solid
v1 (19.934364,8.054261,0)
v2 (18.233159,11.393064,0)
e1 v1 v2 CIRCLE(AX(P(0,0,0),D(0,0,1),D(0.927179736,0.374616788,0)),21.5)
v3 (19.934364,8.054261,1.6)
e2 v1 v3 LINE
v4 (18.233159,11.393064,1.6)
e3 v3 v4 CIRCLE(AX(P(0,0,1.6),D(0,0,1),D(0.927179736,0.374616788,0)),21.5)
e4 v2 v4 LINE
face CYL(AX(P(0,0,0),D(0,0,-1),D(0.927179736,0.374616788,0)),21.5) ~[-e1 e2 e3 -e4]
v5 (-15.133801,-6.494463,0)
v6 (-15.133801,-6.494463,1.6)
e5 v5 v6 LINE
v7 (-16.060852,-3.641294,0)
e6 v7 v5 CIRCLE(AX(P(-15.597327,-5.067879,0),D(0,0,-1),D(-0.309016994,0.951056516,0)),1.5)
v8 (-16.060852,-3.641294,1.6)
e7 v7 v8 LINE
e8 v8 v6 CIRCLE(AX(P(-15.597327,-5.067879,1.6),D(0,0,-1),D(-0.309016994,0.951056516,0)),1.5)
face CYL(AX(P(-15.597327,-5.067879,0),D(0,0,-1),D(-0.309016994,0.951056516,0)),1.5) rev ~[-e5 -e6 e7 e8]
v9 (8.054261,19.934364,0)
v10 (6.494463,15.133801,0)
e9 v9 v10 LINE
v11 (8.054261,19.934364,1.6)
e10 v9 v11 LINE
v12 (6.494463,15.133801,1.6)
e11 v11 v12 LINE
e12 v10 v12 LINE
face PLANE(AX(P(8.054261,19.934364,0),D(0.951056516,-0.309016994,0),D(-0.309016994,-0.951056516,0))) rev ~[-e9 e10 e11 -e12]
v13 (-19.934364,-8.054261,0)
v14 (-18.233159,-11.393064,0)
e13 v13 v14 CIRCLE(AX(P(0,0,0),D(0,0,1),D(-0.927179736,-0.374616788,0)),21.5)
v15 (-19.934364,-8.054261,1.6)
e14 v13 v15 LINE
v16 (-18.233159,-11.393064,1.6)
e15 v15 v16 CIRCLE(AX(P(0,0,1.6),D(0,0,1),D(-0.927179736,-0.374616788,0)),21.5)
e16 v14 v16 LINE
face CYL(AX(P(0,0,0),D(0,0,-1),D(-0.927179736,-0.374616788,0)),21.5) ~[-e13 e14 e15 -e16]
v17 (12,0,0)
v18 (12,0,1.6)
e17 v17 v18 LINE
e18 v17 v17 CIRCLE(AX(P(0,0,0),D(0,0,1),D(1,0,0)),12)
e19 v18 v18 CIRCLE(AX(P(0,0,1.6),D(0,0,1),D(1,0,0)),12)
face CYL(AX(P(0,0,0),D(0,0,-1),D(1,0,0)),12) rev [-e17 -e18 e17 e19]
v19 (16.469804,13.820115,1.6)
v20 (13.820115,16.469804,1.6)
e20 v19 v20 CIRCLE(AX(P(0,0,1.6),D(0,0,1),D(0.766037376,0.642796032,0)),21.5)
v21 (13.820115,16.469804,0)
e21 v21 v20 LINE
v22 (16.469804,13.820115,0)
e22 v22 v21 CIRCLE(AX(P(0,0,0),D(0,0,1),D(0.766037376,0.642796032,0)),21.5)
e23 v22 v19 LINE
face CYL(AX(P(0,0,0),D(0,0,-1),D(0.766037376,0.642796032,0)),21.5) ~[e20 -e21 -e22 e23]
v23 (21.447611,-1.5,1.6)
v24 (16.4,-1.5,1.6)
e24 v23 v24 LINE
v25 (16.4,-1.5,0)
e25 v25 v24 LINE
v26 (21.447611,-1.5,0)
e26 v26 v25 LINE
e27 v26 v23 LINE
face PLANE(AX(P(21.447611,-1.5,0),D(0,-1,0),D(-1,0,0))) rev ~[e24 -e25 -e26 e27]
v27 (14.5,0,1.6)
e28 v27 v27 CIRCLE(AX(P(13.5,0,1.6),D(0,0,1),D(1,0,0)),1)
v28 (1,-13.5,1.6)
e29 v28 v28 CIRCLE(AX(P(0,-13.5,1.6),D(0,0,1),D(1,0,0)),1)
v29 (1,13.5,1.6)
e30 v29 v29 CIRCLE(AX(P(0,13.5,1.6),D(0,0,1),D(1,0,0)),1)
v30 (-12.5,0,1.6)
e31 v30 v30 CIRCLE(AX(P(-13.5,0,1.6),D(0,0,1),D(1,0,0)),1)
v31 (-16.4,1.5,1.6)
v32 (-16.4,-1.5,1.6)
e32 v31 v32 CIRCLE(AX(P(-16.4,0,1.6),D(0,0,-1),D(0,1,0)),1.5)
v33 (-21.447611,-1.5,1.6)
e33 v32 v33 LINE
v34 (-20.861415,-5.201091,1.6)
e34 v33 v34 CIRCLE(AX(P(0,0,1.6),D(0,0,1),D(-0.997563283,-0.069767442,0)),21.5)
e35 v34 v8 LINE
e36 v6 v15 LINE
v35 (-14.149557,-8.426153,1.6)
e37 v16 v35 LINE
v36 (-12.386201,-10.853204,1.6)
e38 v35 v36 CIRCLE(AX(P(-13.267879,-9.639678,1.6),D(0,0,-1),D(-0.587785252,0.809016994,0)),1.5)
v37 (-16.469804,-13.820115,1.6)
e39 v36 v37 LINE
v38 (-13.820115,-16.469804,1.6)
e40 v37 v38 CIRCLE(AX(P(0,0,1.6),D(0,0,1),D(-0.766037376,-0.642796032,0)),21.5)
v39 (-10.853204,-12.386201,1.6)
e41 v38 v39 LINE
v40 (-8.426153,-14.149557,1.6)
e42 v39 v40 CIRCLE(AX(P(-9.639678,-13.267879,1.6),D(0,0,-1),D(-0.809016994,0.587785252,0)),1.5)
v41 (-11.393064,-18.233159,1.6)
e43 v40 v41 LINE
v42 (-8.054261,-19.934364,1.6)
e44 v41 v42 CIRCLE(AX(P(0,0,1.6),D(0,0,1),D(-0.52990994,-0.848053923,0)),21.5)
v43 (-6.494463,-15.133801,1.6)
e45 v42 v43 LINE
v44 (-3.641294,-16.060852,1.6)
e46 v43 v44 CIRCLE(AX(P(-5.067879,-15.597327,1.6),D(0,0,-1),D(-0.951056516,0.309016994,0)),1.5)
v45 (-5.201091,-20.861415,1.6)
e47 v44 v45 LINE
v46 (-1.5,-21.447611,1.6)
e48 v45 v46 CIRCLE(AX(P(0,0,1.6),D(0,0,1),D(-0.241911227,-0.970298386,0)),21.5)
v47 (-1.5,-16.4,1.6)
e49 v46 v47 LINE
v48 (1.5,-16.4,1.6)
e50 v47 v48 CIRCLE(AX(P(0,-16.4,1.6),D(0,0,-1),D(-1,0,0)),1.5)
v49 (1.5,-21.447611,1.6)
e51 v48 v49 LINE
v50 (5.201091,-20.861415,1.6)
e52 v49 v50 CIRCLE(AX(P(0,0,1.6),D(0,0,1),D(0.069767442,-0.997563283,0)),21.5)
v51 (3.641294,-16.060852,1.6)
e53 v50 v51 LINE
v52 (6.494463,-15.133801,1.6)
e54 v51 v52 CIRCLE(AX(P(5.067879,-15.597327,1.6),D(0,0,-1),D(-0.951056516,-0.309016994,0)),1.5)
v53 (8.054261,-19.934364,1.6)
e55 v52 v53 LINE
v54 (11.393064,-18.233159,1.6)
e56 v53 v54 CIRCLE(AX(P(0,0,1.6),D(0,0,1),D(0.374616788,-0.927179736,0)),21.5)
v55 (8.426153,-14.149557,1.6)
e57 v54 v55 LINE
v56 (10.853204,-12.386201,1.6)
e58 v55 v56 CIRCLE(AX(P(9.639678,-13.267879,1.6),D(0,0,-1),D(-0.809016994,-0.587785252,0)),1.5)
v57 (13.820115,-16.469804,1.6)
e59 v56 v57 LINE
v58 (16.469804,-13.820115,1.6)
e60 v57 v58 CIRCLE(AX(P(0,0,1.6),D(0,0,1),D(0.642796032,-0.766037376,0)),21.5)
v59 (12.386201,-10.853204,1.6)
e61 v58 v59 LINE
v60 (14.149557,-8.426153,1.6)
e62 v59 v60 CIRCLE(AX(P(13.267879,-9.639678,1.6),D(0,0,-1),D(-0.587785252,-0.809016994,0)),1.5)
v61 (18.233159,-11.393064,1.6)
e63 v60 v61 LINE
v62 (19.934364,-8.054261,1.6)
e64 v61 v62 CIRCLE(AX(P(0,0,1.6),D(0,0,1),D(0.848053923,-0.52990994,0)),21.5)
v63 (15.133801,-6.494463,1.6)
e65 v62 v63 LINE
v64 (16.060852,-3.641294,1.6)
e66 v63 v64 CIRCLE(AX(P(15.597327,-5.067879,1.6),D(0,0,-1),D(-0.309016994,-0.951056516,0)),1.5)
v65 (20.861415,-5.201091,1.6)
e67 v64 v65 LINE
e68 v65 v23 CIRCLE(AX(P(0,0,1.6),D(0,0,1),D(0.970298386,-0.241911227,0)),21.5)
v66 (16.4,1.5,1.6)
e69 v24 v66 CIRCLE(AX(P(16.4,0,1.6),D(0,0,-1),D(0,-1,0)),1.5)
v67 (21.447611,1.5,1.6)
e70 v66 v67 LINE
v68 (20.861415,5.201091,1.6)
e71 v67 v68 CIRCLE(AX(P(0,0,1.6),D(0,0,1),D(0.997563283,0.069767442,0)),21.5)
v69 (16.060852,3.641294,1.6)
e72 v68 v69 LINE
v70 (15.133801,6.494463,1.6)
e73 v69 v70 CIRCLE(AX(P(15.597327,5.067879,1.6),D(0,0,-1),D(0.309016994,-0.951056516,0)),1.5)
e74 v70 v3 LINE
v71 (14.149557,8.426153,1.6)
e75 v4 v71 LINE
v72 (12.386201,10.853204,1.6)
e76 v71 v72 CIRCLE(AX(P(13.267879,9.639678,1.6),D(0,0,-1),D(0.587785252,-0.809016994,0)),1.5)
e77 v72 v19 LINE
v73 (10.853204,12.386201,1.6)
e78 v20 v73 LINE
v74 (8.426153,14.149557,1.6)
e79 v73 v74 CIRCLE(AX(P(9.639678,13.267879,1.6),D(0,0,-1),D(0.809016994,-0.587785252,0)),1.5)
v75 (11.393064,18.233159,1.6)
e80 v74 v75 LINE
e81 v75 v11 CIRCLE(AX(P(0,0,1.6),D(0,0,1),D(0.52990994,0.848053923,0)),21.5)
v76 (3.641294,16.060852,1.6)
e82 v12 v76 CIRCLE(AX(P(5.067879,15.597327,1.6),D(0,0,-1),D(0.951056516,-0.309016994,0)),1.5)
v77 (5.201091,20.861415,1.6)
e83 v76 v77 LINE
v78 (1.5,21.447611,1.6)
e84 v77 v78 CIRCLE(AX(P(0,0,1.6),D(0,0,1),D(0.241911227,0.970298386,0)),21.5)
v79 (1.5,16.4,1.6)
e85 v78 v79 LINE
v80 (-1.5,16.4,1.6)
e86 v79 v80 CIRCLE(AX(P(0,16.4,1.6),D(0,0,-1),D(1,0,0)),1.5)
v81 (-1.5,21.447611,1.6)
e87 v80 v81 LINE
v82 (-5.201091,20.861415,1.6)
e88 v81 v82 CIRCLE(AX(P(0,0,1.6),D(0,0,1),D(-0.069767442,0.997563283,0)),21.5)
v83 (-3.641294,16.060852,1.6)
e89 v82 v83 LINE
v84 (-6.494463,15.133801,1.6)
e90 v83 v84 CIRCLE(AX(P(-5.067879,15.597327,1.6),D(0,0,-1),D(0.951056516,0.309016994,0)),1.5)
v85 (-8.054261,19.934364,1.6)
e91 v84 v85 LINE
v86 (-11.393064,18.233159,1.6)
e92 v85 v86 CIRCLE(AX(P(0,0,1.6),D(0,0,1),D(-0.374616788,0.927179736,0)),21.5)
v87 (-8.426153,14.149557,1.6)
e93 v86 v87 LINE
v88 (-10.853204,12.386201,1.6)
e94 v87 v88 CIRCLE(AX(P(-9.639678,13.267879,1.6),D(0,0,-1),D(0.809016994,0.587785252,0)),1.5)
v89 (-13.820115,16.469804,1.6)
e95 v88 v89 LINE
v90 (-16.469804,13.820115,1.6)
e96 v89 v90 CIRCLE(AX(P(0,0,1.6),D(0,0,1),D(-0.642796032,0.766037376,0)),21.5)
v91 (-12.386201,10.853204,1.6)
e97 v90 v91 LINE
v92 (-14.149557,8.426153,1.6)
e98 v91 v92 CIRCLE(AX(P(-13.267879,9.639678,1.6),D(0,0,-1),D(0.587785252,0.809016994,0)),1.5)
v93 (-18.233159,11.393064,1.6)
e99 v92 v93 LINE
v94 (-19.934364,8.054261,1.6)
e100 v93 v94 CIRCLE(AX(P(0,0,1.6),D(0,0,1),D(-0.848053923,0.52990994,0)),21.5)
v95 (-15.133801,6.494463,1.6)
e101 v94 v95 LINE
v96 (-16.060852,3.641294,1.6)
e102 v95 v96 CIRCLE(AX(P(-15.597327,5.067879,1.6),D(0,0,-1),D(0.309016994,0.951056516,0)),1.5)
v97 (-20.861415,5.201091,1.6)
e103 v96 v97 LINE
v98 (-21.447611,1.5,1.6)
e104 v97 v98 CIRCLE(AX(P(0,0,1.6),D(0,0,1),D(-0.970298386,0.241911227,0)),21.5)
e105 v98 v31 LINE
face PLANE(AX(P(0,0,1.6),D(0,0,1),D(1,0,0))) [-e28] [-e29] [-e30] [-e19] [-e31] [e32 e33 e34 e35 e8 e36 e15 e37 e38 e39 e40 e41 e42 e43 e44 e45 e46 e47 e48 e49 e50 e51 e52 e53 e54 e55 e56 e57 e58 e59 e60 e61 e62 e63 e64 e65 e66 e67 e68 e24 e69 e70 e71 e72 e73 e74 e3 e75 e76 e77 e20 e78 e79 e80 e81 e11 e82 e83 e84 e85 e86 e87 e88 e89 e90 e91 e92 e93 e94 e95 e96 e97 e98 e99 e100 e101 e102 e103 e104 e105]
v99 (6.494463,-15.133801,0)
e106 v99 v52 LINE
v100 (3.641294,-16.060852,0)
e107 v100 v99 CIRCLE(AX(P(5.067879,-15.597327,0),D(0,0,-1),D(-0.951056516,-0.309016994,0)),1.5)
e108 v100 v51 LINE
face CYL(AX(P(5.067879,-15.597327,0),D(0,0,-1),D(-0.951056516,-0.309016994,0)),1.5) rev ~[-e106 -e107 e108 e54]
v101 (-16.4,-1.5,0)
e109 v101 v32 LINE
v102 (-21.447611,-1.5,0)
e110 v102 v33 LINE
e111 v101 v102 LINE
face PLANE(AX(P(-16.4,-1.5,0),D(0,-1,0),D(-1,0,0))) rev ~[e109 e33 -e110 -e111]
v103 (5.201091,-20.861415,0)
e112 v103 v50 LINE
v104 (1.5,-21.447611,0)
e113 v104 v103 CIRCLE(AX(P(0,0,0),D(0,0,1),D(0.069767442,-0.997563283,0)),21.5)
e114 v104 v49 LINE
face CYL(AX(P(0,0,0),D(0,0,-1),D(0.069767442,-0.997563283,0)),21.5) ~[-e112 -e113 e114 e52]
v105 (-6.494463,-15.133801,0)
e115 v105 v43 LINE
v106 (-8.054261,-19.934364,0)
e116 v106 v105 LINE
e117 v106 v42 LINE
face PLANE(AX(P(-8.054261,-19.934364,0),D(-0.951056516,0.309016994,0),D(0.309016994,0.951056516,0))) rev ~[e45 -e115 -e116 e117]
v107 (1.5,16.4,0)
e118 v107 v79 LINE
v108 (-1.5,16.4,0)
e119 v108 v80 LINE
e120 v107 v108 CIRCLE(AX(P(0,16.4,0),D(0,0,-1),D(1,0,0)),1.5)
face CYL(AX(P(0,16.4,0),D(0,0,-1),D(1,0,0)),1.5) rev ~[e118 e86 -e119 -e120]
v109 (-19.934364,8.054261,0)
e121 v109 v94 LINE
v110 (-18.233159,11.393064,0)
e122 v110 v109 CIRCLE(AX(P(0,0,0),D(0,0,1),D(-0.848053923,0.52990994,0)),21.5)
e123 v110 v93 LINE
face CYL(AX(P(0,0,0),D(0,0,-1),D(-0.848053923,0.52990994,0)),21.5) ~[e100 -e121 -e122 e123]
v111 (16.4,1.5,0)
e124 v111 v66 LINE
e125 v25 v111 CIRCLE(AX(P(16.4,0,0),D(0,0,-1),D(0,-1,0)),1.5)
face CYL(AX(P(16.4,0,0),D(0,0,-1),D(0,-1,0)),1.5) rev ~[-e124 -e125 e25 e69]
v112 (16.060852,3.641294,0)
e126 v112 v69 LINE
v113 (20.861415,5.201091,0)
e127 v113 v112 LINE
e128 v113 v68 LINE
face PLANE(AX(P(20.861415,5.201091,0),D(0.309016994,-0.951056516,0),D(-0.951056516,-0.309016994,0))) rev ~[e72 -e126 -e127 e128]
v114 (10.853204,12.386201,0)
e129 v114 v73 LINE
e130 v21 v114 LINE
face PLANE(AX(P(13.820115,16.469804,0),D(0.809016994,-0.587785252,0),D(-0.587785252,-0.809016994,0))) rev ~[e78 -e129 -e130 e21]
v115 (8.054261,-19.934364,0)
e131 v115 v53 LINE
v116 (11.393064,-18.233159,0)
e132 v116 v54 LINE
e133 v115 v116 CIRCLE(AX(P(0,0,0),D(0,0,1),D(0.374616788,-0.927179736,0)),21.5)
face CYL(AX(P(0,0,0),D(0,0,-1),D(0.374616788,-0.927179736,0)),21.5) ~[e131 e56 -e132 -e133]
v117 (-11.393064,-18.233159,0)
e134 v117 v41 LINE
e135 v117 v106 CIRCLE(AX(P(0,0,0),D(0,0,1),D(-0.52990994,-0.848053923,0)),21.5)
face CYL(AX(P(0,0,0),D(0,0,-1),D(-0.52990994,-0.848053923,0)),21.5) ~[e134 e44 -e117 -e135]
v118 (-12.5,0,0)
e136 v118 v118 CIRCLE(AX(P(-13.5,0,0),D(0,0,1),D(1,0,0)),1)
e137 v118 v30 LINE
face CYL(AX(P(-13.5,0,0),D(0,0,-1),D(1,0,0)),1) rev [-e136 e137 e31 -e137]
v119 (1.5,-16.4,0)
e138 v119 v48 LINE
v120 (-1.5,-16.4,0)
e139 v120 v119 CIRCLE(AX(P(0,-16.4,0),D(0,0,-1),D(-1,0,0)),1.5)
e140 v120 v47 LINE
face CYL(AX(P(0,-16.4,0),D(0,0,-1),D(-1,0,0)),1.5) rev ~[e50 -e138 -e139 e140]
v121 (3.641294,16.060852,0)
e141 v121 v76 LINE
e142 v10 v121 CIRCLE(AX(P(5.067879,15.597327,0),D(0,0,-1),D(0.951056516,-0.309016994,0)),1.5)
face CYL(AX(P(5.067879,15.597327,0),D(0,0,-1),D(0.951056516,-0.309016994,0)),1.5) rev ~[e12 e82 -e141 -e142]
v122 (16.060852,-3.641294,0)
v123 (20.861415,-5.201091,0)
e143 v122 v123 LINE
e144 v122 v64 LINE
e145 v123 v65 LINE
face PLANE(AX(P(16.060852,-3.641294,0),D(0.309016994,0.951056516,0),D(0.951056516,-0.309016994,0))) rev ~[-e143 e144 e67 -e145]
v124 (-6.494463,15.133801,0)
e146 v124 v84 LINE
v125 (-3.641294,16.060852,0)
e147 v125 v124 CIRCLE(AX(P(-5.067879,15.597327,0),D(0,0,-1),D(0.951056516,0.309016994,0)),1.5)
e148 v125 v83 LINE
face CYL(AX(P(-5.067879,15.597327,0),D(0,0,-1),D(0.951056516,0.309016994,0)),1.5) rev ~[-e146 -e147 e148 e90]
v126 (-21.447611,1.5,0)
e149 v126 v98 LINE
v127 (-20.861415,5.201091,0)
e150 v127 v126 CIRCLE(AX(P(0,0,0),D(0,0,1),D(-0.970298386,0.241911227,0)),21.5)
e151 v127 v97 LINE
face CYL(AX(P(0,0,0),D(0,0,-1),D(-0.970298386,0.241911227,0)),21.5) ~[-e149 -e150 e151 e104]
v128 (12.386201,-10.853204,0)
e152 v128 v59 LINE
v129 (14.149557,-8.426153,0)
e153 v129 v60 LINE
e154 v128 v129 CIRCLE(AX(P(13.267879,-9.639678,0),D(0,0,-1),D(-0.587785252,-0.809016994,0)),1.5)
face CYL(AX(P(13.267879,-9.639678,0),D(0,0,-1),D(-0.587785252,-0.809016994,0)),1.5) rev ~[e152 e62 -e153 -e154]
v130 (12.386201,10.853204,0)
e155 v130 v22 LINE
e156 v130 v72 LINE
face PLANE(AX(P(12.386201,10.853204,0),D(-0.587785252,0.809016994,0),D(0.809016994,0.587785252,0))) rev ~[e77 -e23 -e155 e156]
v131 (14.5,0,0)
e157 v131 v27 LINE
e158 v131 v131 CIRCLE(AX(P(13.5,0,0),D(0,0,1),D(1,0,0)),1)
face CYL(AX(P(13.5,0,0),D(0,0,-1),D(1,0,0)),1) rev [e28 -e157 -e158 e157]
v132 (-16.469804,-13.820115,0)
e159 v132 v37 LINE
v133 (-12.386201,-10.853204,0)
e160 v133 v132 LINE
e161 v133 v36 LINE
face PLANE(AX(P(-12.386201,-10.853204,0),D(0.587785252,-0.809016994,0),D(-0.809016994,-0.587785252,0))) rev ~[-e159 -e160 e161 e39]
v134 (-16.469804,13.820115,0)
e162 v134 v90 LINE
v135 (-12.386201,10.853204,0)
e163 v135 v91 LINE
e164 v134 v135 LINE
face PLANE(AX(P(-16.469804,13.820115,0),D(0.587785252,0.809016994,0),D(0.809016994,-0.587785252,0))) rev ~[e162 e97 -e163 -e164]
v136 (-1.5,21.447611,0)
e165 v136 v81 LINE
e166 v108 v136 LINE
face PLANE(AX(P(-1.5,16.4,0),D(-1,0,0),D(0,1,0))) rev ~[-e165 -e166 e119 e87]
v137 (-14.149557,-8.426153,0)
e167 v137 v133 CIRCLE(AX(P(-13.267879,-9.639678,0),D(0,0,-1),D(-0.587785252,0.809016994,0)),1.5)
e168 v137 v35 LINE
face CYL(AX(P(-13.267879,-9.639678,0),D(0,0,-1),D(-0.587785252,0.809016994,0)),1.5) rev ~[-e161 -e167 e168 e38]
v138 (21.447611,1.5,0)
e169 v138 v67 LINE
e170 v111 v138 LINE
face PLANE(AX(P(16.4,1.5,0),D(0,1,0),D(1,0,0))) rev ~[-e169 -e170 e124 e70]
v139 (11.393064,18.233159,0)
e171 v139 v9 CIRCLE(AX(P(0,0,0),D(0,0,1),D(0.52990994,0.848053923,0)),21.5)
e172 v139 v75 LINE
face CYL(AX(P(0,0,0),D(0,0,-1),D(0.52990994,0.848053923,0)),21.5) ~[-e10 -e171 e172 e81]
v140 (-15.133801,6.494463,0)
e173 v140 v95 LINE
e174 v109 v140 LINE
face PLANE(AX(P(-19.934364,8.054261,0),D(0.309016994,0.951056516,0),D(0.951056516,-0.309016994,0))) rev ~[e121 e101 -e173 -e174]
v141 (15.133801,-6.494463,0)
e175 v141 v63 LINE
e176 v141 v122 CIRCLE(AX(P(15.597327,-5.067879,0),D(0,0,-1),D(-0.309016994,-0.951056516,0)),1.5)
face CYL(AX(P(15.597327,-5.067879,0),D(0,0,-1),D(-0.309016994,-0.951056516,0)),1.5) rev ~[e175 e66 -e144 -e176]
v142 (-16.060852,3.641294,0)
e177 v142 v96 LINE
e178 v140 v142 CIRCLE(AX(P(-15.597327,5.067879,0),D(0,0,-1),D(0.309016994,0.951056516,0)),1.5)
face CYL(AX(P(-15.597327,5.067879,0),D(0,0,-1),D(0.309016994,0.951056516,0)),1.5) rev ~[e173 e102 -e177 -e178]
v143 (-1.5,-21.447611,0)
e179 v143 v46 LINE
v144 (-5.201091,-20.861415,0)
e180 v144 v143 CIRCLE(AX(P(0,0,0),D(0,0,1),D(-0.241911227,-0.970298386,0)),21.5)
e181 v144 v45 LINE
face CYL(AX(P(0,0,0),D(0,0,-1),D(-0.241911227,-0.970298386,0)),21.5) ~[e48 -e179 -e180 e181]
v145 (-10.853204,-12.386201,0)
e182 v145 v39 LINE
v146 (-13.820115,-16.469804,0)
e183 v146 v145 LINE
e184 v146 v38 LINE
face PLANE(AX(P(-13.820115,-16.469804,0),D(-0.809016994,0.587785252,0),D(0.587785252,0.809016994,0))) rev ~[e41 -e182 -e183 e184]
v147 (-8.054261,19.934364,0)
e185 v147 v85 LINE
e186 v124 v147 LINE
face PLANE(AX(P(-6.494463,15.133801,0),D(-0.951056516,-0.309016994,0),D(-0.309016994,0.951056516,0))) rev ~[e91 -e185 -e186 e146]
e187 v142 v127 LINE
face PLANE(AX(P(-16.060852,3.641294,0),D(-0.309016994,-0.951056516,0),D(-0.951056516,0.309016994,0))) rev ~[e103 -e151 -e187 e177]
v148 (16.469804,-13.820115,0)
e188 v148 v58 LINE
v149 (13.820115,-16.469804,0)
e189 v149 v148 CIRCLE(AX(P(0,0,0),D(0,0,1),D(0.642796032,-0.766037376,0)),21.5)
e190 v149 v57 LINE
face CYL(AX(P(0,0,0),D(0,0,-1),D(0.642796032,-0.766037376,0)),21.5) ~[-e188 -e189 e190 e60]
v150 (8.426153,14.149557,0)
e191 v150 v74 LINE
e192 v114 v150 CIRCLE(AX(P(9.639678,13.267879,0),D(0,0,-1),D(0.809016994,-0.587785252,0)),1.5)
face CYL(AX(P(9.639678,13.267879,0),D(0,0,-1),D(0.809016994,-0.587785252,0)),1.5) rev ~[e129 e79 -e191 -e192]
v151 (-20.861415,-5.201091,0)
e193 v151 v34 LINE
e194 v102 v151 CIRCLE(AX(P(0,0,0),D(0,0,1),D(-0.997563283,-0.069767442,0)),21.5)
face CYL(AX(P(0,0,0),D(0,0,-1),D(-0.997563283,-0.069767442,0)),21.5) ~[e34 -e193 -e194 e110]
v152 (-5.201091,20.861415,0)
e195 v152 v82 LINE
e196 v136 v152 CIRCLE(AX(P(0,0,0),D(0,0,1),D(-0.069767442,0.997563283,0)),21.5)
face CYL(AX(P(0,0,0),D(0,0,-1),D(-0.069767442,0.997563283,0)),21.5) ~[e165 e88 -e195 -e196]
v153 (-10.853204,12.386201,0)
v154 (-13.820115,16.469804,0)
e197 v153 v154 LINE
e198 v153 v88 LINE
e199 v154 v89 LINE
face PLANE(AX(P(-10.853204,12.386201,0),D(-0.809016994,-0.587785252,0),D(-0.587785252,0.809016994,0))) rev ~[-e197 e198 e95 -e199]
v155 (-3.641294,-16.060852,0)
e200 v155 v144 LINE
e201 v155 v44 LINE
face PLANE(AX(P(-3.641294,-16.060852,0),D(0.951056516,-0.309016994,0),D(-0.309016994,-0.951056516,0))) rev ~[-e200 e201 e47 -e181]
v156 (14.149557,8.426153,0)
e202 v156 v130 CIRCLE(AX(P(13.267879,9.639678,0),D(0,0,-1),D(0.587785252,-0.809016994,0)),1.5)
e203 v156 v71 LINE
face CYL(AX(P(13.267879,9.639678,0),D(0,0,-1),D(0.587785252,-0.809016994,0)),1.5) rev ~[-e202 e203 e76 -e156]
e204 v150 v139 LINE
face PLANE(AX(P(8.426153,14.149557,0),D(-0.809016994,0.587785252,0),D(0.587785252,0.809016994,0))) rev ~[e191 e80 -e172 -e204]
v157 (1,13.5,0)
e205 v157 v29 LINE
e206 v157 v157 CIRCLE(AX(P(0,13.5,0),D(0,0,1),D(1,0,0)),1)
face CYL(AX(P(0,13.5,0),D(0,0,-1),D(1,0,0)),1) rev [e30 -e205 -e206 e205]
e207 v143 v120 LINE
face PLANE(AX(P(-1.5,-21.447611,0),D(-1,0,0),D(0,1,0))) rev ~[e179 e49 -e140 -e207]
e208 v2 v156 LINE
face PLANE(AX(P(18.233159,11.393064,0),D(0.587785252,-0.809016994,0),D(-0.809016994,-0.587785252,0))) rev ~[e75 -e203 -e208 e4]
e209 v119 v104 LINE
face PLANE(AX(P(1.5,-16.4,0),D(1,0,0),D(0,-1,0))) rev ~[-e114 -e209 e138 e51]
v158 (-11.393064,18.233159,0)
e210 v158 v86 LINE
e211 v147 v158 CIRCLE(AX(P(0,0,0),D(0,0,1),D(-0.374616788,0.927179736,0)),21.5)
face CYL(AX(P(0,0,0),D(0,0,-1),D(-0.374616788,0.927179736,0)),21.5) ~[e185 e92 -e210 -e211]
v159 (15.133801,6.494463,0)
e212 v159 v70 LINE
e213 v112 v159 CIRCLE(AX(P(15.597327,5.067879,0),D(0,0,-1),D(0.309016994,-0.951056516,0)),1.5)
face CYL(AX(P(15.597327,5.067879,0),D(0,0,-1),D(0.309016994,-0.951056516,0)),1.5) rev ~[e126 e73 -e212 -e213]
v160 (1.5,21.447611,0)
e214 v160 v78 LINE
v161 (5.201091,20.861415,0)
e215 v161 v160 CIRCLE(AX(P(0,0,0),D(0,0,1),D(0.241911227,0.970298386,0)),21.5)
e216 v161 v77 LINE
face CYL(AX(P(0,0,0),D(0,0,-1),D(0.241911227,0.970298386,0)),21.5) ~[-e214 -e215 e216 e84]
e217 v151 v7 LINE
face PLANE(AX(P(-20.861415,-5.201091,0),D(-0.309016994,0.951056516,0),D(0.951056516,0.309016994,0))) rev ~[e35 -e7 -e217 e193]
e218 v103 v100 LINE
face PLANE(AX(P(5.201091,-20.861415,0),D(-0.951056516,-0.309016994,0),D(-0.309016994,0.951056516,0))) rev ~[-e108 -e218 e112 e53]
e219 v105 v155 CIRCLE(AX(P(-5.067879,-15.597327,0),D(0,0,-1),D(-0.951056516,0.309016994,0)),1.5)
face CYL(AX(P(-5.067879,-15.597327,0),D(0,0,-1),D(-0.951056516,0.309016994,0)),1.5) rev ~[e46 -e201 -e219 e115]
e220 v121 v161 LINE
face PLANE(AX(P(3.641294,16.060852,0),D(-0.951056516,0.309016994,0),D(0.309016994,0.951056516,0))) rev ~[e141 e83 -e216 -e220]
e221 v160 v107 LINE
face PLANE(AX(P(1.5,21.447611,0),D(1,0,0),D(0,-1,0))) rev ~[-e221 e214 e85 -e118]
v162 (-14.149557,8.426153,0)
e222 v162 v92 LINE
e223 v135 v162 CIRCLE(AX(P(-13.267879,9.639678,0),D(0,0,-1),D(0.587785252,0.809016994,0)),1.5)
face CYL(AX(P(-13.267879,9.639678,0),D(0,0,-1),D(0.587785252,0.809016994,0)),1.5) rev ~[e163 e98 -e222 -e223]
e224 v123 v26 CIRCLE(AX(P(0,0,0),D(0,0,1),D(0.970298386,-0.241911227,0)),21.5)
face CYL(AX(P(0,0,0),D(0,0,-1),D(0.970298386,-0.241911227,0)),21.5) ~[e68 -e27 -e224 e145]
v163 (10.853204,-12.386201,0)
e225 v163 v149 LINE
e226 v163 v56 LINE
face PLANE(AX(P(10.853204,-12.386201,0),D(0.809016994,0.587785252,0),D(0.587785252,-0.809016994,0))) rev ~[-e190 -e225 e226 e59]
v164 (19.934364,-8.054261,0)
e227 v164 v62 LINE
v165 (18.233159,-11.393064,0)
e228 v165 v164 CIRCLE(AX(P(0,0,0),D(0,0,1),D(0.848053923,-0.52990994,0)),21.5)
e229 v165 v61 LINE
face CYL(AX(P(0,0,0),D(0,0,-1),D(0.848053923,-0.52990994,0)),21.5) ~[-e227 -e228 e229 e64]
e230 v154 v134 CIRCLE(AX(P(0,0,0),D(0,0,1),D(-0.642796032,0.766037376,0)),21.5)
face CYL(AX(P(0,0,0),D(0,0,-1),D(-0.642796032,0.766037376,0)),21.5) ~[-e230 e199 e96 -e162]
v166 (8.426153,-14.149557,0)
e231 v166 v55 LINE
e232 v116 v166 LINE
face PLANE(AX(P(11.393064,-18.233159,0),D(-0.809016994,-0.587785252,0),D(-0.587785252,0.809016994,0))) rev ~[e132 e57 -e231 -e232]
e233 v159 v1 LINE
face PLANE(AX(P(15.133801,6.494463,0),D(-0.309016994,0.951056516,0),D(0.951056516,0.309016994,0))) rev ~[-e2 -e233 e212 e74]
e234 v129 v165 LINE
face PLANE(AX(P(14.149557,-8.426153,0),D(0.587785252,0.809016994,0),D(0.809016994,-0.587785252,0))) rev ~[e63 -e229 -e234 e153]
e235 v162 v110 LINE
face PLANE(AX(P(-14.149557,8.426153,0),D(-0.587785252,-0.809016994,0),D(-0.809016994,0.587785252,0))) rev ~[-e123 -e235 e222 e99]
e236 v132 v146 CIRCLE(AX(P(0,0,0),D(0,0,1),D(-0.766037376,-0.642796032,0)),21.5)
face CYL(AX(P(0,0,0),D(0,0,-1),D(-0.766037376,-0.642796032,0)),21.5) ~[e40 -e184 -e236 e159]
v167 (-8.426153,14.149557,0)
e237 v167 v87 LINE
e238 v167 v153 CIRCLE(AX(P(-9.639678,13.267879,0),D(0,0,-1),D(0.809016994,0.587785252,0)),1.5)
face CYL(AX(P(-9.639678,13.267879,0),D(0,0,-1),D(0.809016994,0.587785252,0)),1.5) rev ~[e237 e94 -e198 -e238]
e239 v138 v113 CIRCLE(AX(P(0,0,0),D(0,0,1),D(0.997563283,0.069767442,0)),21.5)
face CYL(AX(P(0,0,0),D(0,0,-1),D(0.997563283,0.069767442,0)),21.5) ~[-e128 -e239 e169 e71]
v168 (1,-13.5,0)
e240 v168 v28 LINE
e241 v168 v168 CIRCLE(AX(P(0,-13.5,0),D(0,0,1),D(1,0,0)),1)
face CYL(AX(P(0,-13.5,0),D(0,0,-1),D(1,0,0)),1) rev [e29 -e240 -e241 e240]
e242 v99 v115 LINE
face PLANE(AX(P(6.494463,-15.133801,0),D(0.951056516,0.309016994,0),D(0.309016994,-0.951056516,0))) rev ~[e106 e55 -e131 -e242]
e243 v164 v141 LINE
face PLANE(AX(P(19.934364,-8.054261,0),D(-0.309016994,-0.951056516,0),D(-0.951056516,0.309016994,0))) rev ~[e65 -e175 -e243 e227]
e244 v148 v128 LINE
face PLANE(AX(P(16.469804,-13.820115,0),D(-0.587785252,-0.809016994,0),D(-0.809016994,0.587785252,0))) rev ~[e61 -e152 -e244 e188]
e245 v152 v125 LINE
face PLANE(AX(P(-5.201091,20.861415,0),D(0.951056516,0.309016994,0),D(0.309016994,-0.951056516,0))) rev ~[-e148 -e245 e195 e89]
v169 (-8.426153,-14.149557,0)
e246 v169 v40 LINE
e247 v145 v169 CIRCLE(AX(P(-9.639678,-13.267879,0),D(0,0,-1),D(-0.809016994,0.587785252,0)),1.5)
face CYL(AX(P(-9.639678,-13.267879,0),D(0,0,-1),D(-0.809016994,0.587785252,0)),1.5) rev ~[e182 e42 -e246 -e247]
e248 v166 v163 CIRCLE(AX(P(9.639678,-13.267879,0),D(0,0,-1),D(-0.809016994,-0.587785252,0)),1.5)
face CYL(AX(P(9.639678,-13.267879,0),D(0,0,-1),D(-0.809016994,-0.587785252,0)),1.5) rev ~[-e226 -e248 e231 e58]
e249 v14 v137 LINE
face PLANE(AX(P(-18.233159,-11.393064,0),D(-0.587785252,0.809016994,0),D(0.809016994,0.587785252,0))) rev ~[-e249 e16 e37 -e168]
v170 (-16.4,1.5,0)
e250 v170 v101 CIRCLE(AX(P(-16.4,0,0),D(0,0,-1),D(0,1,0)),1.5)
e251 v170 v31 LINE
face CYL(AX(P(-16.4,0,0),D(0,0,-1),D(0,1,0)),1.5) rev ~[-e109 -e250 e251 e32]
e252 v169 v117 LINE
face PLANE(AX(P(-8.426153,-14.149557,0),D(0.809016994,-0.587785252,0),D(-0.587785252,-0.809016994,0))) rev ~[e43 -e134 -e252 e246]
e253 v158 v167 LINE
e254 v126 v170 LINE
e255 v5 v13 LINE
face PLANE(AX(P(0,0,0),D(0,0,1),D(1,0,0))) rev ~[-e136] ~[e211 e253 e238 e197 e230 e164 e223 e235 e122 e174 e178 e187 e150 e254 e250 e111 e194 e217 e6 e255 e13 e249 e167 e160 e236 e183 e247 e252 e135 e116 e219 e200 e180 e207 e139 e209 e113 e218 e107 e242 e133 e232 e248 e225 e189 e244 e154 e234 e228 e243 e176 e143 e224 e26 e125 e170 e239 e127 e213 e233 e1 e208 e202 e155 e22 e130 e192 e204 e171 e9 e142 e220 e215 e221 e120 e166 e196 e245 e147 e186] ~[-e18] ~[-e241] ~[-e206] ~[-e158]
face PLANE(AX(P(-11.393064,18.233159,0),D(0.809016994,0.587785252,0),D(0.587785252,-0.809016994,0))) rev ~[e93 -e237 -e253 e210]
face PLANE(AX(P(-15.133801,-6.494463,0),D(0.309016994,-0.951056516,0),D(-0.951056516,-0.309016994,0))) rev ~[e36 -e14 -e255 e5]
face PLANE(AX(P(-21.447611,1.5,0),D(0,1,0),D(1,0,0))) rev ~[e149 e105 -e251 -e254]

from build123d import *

# Parameters (mm, degrees)
SKETCH1_R           = 12
SKETCH1_R_2         = 1
BOSS_EXTRUDE1_DEPTH = 1.6


with BuildPart() as part:
    # Sketch1 → Boss-Extrude1 (new body)
    with BuildSketch(Plane.XY):
        with BuildLine():
            Line((-1.5, 16.4), (-1.5, 21.44761059))
            ThreePointArc((-1.5, 21.44761059), (-3.363340998, 21.235299323), (-5.201091386, 20.861415302))
            Line((-5.201091386, 20.861415302), (-3.641293933, 16.060852359))
            ThreePointArc((-3.641293933, 16.060852359), (-4.604353216, 14.170742093), (-6.494463482, 15.133801376))
            Line((-6.494463482, 15.133801376), (-8.054260935, 19.934364319))
            ThreePointArc((-8.054260935, 19.934364319), (-9.760795744, 19.15664027), (-11.39306371, 18.233159334))
            Line((-11.39306371, 18.233159334), (-8.426152646, 14.149556586))
            ThreePointArc((-8.426152646, 14.149556586), (-8.758000259, 12.054353216), (-10.853203629, 12.386200829))
            Line((-10.853203629, 12.386200829), (-13.820114693, 16.469803577))
            ThreePointArc((-13.820114693, 16.469803577), (-15.202795796, 15.202795796), (-16.469803577, 13.820114693))
            Line((-16.469803577, 13.820114693), (-12.386200829, 10.853203629))
            ThreePointArc((-12.386200829, 10.853203629), (-12.054353216, 8.758000259), (-14.149556586, 8.426152646))
            Line((-14.149556586, 8.426152646), (-18.233159334, 11.39306371))
            ThreePointArc((-18.233159334, 11.39306371), (-19.15664027, 9.760795744), (-19.934364319, 8.054260935))
            Line((-19.934364319, 8.054260935), (-15.133801376, 6.494463482))
            ThreePointArc((-15.133801376, 6.494463482), (-14.170742093, 4.604353216), (-16.060852359, 3.641293933))
            Line((-16.060852359, 3.641293933), (-20.861415302, 5.201091386))
            ThreePointArc((-20.861415302, 5.201091386), (-21.235299323, 3.363340998), (-21.44761059, 1.5))
            Line((-21.44761059, 1.5), (-16.4, 1.5))
            ThreePointArc((-16.4, 1.5), (-14.9, 0), (-16.4, -1.5))
            Line((-16.4, -1.5), (-21.44761059, -1.5))
            ThreePointArc((-21.44761059, -1.5), (-21.235299323, -3.363340998), (-20.861415302, -5.201091386))
            Line((-20.861415302, -5.201091386), (-16.060852359, -3.641293933))
            ThreePointArc((-16.060852359, -3.641293933), (-14.170742093, -4.604353216), (-15.133801376, -6.494463482))
            Line((-15.133801376, -6.494463482), (-19.934364319, -8.054260935))
            ThreePointArc((-19.934364319, -8.054260935), (-19.15664027, -9.760795744), (-18.233159334, -11.39306371))
            Line((-18.233159334, -11.39306371), (-14.149556586, -8.426152646))
            ThreePointArc((-14.149556586, -8.426152646), (-12.054353216, -8.758000259), (-12.386200829, -10.853203629))
            Line((-12.386200829, -10.853203629), (-16.469803577, -13.820114693))
            ThreePointArc((-16.469803577, -13.820114693), (-15.202795796, -15.202795796), (-13.820114693, -16.469803577))
            Line((-13.820114693, -16.469803577), (-10.853203629, -12.386200829))
            ThreePointArc((-10.853203629, -12.386200829), (-8.758000259, -12.054353216), (-8.426152646, -14.149556586))
            Line((-8.426152646, -14.149556586), (-11.39306371, -18.233159334))
            ThreePointArc((-11.39306371, -18.233159334), (-9.760795744, -19.15664027), (-8.054260935, -19.934364319))
            Line((-8.054260935, -19.934364319), (-6.494463482, -15.133801376))
            ThreePointArc((-6.494463482, -15.133801376), (-4.604353216, -14.170742093), (-3.641293933, -16.060852359))
            Line((-3.641293933, -16.060852359), (-5.201091386, -20.861415302))
            ThreePointArc((-5.201091386, -20.861415302), (-3.363340998, -21.235299323), (-1.5, -21.44761059))
            Line((-1.5, -21.44761059), (-1.5, -16.4))
            ThreePointArc((-1.5, -16.4), (0, -14.9), (1.5, -16.4))
            Line((1.5, -16.4), (1.5, -21.44761059))
            ThreePointArc((1.5, -21.44761059), (3.363340998, -21.235299323), (5.201091386, -20.861415302))
            Line((5.201091386, -20.861415302), (3.641293933, -16.060852359))
            ThreePointArc((3.641293933, -16.060852359), (4.604353216, -14.170742093), (6.494463482, -15.133801376))
            Line((6.494463482, -15.133801376), (8.054260935, -19.934364319))
            ThreePointArc((8.054260935, -19.934364319), (9.760795744, -19.15664027), (11.39306371, -18.233159334))
            Line((11.39306371, -18.233159334), (8.426152646, -14.149556586))
            ThreePointArc((8.426152646, -14.149556586), (8.758000259, -12.054353216), (10.853203629, -12.386200829))
            Line((10.853203629, -12.386200829), (13.820114693, -16.469803577))
            ThreePointArc((13.820114693, -16.469803577), (15.202795796, -15.202795796), (16.469803577, -13.820114693))
            Line((16.469803577, -13.820114693), (12.386200829, -10.853203629))
            ThreePointArc((12.386200829, -10.853203629), (12.054353216, -8.758000259), (14.149556586, -8.426152646))
            Line((14.149556586, -8.426152646), (18.233159334, -11.39306371))
            ThreePointArc((18.233159334, -11.39306371), (19.15664027, -9.760795744), (19.934364319, -8.054260935))
            Line((19.934364319, -8.054260935), (15.133801376, -6.494463482))
            ThreePointArc((15.133801376, -6.494463482), (14.170742093, -4.604353216), (16.060852359, -3.641293933))
            Line((16.060852359, -3.641293933), (20.861415302, -5.201091386))
            ThreePointArc((20.861415302, -5.201091386), (21.235299323, -3.363340998), (21.44761059, -1.5))
            Line((21.44761059, -1.5), (16.4, -1.5))
            ThreePointArc((16.4, -1.5), (14.9, 0), (16.4, 1.5))
            Line((16.4, 1.5), (21.44761059, 1.5))
            ThreePointArc((21.44761059, 1.5), (21.235299323, 3.363340998), (20.861415302, 5.201091386))
            Line((20.861415302, 5.201091386), (16.060852359, 3.641293933))
            ThreePointArc((16.060852359, 3.641293933), (14.170742093, 4.604353216), (15.133801376, 6.494463482))
            Line((15.133801376, 6.494463482), (19.934364319, 8.054260935))
            ThreePointArc((19.934364319, 8.054260935), (19.15664027, 9.760795744), (18.233159334, 11.39306371))
            Line((18.233159334, 11.39306371), (14.149556586, 8.426152646))
            ThreePointArc((14.149556586, 8.426152646), (12.054353216, 8.758000259), (12.386200829, 10.853203629))
            Line((12.386200829, 10.853203629), (16.469803577, 13.820114693))
            ThreePointArc((16.469803577, 13.820114693), (15.202795796, 15.202795796), (13.820114693, 16.469803577))
            Line((13.820114693, 16.469803577), (10.853203629, 12.386200829))
            ThreePointArc((10.853203629, 12.386200829), (8.758000259, 12.054353216), (8.426152646, 14.149556586))
            Line((8.426152646, 14.149556586), (11.39306371, 18.233159334))
            ThreePointArc((11.39306371, 18.233159334), (9.760795744, 19.15664027), (8.054260935, 19.934364319))
            Line((8.054260935, 19.934364319), (6.494463482, 15.133801376))
            ThreePointArc((6.494463482, 15.133801376), (4.604353216, 14.170742093), (3.641293933, 16.060852359))
            Line((3.641293933, 16.060852359), (5.201091386, 20.861415302))
            ThreePointArc((5.201091386, 20.861415302), (3.363340998, 21.235299323), (1.5, 21.44761059))
            Line((1.5, 21.44761059), (1.5, 16.4))
            ThreePointArc((1.5, 16.4), (0, 14.9), (-1.5, 16.4))
        make_face()
        Circle(SKETCH1_R, mode=Mode.SUBTRACT)
        with Locations((0, 13.5)):
            Circle(SKETCH1_R_2, mode=Mode.SUBTRACT)
        with Locations((13.5, 0)):
            Circle(SKETCH1_R_2, mode=Mode.SUBTRACT)
        with Locations((0, -13.5)):
            Circle(SKETCH1_R_2, mode=Mode.SUBTRACT)
        with Locations((-13.5, 0)):
            Circle(SKETCH1_R_2, mode=Mode.SUBTRACT)
    extrude(amount=BOSS_EXTRUDE1_DEPTH)


solid = part.part
